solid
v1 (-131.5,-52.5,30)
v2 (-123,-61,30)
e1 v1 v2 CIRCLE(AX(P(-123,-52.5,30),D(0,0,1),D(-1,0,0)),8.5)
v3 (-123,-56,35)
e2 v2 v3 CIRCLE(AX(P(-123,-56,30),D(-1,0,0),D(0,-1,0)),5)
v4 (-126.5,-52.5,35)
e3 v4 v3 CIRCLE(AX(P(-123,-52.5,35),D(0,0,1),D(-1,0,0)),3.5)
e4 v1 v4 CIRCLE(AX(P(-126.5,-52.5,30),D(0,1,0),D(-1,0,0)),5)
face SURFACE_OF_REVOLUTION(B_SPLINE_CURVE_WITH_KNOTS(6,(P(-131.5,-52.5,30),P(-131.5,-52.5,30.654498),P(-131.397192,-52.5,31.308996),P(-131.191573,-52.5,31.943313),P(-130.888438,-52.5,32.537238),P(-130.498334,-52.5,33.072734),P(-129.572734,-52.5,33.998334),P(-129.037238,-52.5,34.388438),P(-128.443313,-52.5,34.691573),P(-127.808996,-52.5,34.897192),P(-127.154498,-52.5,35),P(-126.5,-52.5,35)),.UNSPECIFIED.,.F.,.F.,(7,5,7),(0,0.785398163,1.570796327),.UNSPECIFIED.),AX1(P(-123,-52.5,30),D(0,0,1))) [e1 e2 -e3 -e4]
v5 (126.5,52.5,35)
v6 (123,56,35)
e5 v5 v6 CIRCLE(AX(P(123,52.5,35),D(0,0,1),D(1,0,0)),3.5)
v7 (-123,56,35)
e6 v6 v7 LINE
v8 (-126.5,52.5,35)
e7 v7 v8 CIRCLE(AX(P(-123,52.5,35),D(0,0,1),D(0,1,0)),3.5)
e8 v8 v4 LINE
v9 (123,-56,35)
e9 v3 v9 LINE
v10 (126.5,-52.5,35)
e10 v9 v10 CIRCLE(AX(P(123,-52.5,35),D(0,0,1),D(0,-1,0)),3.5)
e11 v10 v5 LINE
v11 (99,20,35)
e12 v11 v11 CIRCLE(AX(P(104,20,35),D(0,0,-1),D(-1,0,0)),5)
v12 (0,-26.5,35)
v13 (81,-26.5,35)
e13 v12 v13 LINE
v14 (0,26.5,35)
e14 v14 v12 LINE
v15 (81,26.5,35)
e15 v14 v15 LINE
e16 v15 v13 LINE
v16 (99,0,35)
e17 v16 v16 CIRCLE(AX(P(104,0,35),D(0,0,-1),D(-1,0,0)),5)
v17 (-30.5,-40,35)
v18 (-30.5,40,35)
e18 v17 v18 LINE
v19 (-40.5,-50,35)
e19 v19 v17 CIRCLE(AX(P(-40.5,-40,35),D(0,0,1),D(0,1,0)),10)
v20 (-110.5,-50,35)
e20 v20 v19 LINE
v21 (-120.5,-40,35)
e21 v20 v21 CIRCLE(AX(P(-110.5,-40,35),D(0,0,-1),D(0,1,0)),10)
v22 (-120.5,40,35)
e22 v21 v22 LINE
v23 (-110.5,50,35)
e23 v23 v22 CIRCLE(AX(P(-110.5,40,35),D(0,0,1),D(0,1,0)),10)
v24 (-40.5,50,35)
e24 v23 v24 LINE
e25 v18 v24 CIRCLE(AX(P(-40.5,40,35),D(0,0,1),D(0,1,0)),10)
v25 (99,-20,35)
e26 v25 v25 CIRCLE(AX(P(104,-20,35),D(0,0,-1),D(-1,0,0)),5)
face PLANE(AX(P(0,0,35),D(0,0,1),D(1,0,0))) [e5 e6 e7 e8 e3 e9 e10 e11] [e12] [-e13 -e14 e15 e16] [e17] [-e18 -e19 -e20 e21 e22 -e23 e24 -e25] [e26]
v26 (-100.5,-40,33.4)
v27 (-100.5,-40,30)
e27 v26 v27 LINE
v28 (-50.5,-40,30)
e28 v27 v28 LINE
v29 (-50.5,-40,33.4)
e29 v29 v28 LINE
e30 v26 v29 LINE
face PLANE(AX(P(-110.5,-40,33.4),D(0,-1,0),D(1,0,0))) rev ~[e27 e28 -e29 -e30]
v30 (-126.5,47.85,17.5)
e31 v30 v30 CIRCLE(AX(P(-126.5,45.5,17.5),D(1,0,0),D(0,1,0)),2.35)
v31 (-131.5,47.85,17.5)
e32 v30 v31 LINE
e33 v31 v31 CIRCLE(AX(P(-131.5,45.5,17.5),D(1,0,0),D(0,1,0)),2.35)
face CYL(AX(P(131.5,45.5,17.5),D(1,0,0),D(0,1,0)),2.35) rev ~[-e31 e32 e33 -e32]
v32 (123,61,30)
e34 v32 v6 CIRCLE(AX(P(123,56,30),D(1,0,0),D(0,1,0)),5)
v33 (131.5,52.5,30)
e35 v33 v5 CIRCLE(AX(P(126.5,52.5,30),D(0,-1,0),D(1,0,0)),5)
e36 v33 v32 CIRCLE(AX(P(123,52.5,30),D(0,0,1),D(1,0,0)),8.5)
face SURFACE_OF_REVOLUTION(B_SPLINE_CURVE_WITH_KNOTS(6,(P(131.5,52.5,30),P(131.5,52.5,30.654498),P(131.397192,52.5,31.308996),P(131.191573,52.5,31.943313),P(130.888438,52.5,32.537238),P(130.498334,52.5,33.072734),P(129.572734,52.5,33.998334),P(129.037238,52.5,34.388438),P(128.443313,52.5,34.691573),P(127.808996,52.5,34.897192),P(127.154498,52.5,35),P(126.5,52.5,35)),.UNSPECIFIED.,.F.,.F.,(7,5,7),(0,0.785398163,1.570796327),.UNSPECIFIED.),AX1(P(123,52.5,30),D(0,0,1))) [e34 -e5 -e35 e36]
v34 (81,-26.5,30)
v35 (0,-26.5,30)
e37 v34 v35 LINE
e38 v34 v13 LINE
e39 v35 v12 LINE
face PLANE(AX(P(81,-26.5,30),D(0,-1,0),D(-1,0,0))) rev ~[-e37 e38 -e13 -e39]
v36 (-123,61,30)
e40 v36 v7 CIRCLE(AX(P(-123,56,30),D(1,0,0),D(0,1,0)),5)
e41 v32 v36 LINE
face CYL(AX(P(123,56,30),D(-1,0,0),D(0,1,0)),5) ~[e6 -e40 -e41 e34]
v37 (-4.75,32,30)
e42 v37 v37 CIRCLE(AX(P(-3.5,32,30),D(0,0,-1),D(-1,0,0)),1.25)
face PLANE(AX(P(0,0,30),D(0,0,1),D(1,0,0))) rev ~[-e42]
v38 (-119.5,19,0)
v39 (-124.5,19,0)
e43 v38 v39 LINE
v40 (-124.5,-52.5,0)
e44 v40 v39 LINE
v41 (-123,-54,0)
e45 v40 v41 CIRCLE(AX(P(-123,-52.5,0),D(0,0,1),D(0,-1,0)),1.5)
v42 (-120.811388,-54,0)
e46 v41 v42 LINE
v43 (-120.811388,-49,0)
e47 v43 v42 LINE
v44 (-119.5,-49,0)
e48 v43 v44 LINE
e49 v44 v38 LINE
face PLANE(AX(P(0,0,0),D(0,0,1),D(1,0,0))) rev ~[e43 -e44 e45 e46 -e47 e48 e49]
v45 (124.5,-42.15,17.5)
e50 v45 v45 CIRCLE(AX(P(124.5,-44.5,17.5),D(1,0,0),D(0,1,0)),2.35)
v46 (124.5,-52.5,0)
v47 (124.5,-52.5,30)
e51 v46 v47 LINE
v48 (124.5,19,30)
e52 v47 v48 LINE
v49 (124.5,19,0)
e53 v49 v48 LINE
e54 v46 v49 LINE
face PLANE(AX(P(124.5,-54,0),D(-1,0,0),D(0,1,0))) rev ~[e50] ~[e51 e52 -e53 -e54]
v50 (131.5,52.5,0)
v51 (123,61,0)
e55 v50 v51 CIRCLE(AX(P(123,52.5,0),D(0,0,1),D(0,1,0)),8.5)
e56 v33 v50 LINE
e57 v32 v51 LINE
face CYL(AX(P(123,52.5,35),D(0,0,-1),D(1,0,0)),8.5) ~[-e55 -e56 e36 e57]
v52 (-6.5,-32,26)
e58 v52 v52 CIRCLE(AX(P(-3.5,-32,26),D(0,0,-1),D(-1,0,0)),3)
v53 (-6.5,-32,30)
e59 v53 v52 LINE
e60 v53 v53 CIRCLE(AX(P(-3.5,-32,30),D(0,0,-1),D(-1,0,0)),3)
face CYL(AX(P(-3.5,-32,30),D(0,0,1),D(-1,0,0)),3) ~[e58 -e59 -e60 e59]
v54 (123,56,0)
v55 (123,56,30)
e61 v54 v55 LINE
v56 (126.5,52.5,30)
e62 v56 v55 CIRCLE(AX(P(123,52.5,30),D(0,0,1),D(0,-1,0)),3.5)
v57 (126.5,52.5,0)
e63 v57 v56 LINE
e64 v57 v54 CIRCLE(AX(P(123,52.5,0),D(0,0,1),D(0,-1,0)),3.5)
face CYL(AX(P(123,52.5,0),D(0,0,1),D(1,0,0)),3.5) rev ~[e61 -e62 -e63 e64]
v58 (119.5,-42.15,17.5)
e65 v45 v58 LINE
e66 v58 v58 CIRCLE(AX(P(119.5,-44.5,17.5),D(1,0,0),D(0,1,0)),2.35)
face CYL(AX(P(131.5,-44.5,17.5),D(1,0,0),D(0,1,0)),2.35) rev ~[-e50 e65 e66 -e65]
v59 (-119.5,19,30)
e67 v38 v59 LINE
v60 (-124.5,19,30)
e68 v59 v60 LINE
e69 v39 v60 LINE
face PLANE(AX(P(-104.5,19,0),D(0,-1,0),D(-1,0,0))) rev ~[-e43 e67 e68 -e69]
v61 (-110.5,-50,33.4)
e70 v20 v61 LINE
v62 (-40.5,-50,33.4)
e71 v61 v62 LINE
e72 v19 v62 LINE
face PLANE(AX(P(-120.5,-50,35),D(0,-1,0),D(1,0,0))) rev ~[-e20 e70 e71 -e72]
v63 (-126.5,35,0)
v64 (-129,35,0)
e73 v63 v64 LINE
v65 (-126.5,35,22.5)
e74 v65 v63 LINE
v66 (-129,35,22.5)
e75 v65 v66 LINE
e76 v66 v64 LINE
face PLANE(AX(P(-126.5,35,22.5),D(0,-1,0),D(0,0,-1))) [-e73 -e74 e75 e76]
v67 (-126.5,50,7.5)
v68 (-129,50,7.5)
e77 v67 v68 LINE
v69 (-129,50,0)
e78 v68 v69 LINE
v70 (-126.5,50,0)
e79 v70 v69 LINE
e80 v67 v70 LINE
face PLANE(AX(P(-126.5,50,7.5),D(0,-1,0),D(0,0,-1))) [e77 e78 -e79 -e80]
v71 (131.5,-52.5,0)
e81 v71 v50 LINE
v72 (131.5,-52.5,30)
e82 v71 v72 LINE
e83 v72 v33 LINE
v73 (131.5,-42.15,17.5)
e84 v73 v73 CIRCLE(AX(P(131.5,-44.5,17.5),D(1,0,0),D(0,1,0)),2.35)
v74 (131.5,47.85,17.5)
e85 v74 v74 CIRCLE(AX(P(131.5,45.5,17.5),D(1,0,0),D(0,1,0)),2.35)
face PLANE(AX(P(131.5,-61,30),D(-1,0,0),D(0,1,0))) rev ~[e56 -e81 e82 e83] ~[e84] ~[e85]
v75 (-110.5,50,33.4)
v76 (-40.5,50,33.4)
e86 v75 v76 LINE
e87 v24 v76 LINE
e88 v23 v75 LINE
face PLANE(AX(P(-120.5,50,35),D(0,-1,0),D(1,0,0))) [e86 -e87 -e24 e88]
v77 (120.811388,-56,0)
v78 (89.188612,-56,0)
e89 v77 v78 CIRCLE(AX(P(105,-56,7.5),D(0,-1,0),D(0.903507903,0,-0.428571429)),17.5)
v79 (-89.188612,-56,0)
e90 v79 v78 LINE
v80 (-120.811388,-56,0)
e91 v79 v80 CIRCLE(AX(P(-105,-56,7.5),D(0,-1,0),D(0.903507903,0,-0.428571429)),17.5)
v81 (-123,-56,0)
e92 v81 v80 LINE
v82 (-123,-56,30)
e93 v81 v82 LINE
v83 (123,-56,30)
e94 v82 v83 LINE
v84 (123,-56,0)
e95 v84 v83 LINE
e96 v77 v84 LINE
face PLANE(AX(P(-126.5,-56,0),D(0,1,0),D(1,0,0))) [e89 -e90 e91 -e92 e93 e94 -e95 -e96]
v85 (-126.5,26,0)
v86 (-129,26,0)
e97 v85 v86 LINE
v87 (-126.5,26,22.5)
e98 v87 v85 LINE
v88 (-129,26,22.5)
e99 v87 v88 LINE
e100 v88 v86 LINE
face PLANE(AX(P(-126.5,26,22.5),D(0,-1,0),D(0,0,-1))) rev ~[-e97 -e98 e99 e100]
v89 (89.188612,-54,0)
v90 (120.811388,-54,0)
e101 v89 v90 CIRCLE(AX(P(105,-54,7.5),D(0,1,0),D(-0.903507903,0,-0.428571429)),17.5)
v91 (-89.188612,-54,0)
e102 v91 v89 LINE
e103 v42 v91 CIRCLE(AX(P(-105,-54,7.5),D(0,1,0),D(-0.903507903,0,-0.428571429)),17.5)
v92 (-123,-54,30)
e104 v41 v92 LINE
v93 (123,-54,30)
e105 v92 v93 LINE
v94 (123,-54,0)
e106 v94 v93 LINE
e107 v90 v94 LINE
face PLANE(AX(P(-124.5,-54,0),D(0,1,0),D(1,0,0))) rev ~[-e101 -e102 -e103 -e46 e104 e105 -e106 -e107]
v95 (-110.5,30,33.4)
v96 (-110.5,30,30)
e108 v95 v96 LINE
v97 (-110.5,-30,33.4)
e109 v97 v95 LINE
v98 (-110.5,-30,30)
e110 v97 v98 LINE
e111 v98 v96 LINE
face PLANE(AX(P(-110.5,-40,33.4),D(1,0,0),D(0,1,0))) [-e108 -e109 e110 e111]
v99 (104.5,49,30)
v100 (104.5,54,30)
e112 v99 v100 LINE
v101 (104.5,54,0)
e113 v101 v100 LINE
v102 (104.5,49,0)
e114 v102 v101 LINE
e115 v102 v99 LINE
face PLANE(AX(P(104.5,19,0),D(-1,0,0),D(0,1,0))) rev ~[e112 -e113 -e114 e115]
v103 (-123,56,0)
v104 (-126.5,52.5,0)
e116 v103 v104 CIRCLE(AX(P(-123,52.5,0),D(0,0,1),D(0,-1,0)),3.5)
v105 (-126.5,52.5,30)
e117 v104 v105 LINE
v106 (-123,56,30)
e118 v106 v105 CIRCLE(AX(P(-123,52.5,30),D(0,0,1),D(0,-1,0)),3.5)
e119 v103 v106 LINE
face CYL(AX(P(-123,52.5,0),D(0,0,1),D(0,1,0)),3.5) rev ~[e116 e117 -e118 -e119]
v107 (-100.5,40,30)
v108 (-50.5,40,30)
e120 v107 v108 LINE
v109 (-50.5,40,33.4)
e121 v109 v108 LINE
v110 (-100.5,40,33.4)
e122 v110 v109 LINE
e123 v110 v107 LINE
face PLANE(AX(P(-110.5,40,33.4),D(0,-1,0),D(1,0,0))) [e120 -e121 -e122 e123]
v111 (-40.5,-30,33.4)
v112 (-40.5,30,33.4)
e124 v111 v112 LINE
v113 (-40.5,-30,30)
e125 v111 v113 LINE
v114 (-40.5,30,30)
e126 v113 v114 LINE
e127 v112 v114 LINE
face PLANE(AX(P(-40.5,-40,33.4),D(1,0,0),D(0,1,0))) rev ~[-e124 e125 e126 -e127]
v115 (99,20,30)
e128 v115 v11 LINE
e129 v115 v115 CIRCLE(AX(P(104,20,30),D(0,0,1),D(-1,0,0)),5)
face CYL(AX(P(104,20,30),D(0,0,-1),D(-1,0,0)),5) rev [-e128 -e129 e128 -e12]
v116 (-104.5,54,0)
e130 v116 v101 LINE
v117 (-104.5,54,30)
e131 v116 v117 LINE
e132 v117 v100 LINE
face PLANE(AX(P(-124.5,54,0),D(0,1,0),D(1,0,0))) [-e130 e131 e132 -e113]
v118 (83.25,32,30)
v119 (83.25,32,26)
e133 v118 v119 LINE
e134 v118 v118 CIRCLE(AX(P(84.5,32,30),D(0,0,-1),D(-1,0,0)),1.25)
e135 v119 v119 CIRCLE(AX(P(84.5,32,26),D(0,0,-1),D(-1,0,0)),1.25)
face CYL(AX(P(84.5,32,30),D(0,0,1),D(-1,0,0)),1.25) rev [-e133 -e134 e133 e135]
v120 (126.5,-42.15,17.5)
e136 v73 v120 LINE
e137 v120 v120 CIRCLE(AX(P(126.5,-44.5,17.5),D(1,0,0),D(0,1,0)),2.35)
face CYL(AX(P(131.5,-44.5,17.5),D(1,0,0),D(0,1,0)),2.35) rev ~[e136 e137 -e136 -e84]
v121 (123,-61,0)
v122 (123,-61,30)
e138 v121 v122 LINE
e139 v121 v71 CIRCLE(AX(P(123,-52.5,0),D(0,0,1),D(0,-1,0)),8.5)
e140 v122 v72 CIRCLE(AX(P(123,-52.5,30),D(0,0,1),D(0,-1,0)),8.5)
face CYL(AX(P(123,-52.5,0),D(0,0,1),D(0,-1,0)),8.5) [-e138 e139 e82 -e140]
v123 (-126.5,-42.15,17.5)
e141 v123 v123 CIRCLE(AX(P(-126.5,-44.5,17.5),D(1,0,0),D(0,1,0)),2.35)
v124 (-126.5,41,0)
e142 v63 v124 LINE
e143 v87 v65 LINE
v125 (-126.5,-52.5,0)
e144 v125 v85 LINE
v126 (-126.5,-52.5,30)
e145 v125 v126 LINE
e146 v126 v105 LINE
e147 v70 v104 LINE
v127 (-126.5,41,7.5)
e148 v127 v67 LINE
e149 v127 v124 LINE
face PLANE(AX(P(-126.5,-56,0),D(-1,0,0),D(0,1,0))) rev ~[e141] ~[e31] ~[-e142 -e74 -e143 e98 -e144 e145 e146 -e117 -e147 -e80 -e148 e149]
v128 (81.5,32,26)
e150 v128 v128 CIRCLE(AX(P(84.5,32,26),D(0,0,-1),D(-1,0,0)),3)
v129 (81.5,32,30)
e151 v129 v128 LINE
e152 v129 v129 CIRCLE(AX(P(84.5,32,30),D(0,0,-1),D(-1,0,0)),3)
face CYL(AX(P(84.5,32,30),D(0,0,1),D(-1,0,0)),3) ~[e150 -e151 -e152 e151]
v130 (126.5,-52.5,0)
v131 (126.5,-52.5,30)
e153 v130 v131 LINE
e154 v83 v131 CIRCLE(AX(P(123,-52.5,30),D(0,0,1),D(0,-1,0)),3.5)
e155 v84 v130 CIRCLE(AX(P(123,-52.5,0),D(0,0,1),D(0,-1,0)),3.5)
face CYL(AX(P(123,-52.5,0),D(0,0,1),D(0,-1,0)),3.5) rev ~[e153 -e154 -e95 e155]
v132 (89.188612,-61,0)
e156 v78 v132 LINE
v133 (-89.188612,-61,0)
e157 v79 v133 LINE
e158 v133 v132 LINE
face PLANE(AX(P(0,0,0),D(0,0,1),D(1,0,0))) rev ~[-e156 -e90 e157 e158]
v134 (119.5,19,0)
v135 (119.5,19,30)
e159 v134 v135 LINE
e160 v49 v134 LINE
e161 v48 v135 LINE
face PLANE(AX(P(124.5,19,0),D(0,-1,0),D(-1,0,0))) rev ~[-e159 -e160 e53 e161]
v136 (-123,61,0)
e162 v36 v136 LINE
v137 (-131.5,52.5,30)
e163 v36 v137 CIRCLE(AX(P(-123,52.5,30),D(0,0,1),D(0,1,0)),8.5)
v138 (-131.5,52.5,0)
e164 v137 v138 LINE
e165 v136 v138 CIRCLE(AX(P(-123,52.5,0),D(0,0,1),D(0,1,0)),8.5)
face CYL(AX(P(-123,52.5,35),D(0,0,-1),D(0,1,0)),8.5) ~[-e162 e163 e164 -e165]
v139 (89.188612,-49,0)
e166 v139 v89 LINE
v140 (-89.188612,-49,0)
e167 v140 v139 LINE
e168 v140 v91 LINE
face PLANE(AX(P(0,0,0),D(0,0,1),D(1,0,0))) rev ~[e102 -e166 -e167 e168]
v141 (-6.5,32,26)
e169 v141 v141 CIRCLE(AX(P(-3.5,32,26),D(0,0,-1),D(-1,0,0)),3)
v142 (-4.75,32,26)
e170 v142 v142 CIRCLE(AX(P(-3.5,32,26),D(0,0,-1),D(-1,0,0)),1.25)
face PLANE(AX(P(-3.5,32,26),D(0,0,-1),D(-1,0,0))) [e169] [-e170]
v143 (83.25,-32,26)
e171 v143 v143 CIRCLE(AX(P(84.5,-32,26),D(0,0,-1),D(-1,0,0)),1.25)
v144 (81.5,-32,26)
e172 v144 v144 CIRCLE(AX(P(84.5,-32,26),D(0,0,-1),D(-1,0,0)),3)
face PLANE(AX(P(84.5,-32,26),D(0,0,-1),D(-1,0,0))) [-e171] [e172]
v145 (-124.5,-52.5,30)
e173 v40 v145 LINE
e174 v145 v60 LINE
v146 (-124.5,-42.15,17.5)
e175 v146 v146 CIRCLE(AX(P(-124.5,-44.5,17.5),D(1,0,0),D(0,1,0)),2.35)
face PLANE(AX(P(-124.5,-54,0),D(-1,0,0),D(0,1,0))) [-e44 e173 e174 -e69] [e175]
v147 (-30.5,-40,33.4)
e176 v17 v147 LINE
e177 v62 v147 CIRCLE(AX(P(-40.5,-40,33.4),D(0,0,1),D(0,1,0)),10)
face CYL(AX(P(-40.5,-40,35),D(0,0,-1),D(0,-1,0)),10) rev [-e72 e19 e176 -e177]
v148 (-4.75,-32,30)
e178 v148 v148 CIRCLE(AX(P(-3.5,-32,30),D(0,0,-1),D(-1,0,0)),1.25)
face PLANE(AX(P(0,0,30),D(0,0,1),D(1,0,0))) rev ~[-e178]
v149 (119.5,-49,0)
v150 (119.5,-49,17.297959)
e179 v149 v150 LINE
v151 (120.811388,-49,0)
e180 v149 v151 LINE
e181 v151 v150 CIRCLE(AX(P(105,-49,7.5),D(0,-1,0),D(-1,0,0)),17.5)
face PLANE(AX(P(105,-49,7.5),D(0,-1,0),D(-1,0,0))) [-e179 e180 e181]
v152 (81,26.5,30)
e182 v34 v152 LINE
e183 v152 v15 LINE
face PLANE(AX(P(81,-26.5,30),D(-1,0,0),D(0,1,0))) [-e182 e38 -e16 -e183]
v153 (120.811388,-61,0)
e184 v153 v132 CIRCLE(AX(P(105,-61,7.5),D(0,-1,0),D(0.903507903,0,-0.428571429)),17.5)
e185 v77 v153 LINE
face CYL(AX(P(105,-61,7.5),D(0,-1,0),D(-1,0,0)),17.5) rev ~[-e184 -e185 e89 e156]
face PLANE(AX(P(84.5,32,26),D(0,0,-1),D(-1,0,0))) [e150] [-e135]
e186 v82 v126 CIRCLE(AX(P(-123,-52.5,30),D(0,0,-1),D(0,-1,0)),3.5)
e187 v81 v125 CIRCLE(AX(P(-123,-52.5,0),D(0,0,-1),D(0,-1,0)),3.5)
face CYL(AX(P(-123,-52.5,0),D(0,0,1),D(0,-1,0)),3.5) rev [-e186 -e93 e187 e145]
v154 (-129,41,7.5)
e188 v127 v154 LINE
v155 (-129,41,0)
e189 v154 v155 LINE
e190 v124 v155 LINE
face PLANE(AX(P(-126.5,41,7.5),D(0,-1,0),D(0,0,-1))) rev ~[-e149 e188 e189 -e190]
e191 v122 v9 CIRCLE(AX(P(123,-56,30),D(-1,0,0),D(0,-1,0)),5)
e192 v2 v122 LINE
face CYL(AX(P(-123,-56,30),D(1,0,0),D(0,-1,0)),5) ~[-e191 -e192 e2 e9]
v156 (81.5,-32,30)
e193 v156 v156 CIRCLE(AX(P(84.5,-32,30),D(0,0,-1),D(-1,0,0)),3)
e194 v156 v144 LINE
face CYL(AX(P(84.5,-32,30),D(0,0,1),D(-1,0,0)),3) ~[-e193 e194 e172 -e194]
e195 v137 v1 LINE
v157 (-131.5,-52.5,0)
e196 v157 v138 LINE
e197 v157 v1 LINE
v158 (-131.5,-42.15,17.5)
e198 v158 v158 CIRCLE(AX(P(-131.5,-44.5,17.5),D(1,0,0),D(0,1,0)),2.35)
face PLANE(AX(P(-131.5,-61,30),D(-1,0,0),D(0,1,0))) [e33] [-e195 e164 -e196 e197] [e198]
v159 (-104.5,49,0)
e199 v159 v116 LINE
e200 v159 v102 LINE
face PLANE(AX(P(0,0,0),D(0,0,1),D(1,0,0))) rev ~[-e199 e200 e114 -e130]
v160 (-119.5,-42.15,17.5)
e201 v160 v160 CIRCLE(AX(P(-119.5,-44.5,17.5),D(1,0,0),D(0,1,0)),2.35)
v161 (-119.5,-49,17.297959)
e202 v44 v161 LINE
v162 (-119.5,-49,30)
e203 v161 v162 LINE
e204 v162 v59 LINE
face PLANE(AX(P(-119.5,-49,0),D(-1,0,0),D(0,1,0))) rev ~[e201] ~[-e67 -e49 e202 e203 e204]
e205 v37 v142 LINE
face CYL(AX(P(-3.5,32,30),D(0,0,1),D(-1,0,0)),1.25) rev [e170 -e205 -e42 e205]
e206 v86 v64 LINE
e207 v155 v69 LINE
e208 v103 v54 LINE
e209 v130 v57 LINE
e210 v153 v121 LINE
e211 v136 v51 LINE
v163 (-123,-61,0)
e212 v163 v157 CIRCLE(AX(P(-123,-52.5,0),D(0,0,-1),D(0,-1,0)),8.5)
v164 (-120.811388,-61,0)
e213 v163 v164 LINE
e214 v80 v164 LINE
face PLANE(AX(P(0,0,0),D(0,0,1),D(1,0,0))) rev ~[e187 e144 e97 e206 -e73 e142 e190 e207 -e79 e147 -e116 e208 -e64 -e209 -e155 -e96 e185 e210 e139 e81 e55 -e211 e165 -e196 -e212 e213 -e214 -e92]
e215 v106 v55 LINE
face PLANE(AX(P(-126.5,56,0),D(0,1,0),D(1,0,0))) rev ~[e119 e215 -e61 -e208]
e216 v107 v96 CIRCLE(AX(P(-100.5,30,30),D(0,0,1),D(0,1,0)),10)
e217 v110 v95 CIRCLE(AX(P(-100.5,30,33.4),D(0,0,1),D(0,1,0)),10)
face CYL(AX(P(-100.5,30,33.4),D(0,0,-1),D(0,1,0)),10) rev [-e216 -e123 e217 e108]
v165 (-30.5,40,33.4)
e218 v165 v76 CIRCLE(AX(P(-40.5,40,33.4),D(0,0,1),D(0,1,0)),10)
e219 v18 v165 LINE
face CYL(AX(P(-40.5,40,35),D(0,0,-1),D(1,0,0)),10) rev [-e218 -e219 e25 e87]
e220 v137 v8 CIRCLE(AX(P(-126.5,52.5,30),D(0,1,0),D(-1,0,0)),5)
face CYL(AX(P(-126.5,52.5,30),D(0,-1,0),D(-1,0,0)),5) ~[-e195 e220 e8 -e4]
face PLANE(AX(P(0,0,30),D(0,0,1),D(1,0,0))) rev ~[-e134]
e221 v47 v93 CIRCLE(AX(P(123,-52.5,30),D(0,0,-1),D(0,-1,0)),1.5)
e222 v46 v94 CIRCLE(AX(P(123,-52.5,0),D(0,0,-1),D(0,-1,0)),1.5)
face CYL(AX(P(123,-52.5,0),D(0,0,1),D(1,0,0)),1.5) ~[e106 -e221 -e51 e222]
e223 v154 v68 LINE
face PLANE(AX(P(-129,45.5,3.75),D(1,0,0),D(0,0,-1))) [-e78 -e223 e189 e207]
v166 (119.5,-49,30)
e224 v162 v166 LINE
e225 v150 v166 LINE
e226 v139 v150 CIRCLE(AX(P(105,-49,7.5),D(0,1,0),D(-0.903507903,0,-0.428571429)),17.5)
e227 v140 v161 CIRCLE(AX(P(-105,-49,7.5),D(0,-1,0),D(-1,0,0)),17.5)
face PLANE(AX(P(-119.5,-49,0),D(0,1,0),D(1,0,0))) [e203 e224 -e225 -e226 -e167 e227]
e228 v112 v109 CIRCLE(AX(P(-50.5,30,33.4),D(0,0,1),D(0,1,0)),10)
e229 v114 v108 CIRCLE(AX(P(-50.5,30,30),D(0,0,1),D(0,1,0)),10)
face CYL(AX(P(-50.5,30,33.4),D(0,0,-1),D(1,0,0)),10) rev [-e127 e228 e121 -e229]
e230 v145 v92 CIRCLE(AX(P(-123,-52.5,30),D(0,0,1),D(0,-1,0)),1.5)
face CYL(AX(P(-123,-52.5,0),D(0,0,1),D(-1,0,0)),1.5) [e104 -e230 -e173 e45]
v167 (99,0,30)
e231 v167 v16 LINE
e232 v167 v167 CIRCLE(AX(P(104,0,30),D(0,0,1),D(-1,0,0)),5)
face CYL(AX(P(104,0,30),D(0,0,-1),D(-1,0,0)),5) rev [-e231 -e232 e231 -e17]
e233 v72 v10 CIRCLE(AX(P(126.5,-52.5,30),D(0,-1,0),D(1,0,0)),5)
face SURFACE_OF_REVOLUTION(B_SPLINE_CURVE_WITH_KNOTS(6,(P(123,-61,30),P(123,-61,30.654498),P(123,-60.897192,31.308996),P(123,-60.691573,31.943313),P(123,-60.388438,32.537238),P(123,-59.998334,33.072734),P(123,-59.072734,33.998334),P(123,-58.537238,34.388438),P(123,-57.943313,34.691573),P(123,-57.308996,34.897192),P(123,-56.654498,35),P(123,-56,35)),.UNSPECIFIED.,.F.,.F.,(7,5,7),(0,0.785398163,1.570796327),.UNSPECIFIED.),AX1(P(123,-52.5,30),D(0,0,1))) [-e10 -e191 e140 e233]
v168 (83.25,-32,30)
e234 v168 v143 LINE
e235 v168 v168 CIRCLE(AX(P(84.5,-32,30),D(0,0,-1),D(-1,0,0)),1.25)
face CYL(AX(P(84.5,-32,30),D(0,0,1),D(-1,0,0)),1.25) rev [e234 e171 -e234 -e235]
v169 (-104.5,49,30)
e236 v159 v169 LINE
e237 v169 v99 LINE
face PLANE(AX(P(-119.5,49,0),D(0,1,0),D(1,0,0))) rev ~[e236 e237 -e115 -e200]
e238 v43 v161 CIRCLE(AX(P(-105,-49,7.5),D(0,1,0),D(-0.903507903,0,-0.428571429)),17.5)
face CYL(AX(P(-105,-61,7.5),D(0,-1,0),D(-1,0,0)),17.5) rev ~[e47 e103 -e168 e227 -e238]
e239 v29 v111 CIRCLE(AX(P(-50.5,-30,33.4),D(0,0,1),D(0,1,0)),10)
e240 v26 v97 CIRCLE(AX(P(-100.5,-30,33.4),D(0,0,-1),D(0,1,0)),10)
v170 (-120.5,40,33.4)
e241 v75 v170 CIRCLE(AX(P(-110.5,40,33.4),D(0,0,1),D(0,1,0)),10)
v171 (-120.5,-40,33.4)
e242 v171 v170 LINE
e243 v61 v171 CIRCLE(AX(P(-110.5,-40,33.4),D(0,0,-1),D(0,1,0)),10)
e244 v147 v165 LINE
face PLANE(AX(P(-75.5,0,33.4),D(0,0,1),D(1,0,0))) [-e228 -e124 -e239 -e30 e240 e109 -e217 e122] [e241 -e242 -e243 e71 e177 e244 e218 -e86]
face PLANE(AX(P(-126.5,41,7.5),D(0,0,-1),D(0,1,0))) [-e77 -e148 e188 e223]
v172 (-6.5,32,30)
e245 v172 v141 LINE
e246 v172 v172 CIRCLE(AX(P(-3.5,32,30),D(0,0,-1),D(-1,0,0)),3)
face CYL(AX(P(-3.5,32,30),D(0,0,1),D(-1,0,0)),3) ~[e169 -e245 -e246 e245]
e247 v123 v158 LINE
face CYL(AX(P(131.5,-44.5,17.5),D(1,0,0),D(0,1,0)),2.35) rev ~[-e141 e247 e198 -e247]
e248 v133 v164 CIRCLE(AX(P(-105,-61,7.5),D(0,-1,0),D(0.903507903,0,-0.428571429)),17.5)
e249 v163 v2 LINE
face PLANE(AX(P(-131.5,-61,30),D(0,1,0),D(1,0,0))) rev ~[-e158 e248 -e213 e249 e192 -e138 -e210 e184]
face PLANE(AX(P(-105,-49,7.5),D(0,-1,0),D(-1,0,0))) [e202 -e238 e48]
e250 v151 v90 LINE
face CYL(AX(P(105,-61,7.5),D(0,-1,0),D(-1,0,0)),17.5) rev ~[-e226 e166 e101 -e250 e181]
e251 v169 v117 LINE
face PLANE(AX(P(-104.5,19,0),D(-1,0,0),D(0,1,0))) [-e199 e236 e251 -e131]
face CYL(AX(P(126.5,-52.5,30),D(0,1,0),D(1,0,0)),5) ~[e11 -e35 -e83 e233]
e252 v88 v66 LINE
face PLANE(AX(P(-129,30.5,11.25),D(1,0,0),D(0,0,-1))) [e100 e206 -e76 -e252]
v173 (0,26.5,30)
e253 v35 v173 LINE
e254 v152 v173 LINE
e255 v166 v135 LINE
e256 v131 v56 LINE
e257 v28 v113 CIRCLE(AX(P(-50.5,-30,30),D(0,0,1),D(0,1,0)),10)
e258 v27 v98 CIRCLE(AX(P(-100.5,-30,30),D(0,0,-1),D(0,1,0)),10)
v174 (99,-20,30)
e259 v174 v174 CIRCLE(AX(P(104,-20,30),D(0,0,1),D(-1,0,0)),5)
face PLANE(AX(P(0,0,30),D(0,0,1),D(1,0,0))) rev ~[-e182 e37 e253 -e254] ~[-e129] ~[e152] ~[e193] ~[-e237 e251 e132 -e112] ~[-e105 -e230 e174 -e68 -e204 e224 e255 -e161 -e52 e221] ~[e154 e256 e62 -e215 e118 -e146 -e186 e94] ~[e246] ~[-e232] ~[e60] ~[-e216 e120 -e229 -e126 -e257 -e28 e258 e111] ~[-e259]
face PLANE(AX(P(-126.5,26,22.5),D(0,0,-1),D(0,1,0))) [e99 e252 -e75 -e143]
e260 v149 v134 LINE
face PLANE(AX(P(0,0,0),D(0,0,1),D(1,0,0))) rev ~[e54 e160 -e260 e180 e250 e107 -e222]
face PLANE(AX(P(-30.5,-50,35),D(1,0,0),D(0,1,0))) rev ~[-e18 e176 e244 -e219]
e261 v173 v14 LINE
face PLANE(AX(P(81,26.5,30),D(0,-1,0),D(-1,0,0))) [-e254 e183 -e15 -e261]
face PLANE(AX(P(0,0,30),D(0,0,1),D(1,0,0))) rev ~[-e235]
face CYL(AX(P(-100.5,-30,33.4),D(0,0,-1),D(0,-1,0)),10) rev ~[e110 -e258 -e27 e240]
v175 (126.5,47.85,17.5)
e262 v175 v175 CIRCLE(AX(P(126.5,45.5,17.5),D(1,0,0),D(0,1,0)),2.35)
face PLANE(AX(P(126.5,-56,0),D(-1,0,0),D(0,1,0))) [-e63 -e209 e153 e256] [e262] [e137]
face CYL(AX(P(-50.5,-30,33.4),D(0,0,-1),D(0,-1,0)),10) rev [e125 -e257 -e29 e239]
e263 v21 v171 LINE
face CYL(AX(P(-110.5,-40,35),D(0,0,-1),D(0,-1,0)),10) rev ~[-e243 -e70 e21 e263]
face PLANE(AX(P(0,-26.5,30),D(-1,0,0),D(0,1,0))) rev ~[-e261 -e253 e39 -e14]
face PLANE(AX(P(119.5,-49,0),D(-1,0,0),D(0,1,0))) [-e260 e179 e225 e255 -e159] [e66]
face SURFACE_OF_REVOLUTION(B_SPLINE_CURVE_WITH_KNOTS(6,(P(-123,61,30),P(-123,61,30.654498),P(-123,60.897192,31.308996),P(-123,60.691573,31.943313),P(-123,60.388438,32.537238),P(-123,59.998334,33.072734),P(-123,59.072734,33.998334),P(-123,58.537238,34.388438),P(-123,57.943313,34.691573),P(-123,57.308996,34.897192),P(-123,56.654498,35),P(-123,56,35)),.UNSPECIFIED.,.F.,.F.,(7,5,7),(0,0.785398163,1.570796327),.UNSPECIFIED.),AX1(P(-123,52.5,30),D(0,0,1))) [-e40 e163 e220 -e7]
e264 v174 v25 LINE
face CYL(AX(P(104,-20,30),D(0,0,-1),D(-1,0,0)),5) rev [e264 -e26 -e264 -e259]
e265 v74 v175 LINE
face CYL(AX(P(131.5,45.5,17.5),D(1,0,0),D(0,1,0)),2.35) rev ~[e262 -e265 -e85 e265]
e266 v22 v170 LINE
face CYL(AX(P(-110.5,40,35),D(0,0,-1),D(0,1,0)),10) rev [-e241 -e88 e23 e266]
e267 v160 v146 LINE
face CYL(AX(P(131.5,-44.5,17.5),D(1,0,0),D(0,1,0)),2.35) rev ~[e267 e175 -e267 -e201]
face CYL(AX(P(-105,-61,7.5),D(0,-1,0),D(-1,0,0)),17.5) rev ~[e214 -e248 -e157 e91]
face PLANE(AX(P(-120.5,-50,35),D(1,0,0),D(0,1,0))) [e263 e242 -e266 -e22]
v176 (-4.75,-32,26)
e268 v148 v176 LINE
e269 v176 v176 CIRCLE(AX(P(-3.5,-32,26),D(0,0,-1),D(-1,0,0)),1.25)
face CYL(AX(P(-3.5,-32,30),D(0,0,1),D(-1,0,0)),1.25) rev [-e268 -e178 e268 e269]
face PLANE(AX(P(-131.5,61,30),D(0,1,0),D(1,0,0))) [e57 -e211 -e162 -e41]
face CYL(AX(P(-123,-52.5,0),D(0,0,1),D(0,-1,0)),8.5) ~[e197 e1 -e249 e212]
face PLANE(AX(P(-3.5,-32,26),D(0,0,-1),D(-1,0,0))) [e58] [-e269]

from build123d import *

# Parameters (mm, degrees)
SKETCH1_W             = 263
SKETCH1_H             = 122
SKETCH1_W_2           = 253
SKETCH1_H_2           = 112
BOSS_EXTRUDE1_DEPTH   = 30
SKETCH1_W_3           = 249
SKETCH1_H_3           = 108
SKETCH1_W_4           = 239
SKETCH1_H_4           = 98
BOSS_EXTRUDE1_2_DEPTH = 30
SKETCH2_W             = 263
SKETCH2_H             = 122
BOSS_EXTRUDE2_DEPTH   = 5
FILLET1_R             = 1.5
SKETCH3_R             = 17.5
CUT_EXTRUDE1_DEPTH    = 12
FILLET2_R             = 3.5
FILLET3_R             = 8.5
FILLET4_R             = 5
SKETCH4_R             = 2.35
CUT_EXTRUDE2_DEPTH    = 279
SKETCH5_W             = 20
SKETCH5_H             = 35
CUT_EXTRUDE3_DEPTH    = 30
SKETCH6_W             = 7.5
SKETCH6_H             = 9
SKETCH6_W_2           = 22.5
CUT_EXTRUDE4_DEPTH    = 2.5
SKETCH7_R             = 5
CUT_EXTRUDE8_DEPTH    = 73.5
SKETCH9_R             = 3
SKETCH9_R_2           = 1.25
BOSS_EXTRUDE4_DEPTH   = 4
SKETCH10_W            = 81
SKETCH10_H            = 53
CUT_EXTRUDE9_DEPTH    = 13.6
SKETCH11_W            = 90
SKETCH11_H            = 100
CUT_EXTRUDE10_DEPTH   = 1.6
SKETCH12_W            = 70
SKETCH12_H            = 80
CUT_EXTRUDE11_DEPTH   = 11.6
FILLET5_R             = 10


with BuildPart() as part:
    # Sketch1 → Boss-Extrude1 (new body)
    with BuildSketch(Plane.XY):
        Rectangle(SKETCH1_W, SKETCH1_H)
        Rectangle(SKETCH1_W_2, SKETCH1_H_2, mode=Mode.SUBTRACT)
    extrude(amount=BOSS_EXTRUDE1_DEPTH)



with BuildPart() as body_2:
    # Sketch1 → Boss-Extrude1 2 (new body)
    with BuildSketch(Plane.XY):
        Rectangle(SKETCH1_W_3, SKETCH1_H_3)
        Rectangle(SKETCH1_W_4, SKETCH1_H_4, mode=Mode.SUBTRACT)
    extrude(amount=BOSS_EXTRUDE1_2_DEPTH)


with BuildPart() as part_1:
    add(part.part)

    add(body_2.part)  # Boss-Extrude2 merges body 2
    # Sketch2 → Boss-Extrude2 (add)
    with BuildSketch(Plane.XY.offset(30)):
        Rectangle(SKETCH2_W, SKETCH2_H)
    extrude(amount=BOSS_EXTRUDE2_DEPTH)

    # Fillet1
    fillet1_edges = [part_1.edges().sort_by_distance(p)[0] for p in [
        (-124.5, -54, 15),
        (124.5, -54, 15),
        (124.5, 54, 15),
        (-124.5, 54, 15),
    ]]
    fillet(fillet1_edges, radius=FILLET1_R)

    # Sketch3 → Cut-Extrude1 (cut)
    with BuildSketch(Plane(origin=(0, -61, 0), x_dir=(-1, 0, 0), z_dir=(0, -1, 0))):
        with Locations((105, -7.5)):
            Circle(SKETCH3_R)
        with Locations((-105, -7.5)):
            Circle(SKETCH3_R)
    extrude(amount=-CUT_EXTRUDE1_DEPTH, mode=Mode.SUBTRACT)

    # Fillet2
    fillet2_edges = [part_1.edges().sort_by_distance(p)[0] for p in [
        (126.5, 56, 15),
        (-126.5, 56, 15),
        (-126.5, -56, 15),
        (126.5, -56, 15),
    ]]
    fillet(fillet2_edges, radius=FILLET2_R)

    # Fillet3
    fillet3_edges = [part_1.edges().sort_by_distance(p)[0] for p in [
        (-131.5, -61, 17.5),
        (-131.5, 61, 17.5),
        (131.5, 61, 17.5),
        (131.5, -61, 17.5),
    ]]
    fillet(fillet3_edges, radius=FILLET3_R)

    # Fillet4
    fillet4_edges = [part_1.edges().sort_by_distance(p)[0] for p in [
        (0, -61, 35),
        (-131.5, 0, 35),
        (131.5, 0, 35),
        (0, 61, 35),
        (-129.01040764, 58.51040764, 35),
        (129.01040764, 58.51040764, 35),
        (129.01040764, -58.51040764, 35),
        (-129.01040764, -58.51040764, 35),
    ]]
    fillet(fillet4_edges, radius=FILLET4_R)

    # Sketch4 → Cut-Extrude2 (cut)
    with BuildSketch(Plane(origin=(131.5, 0, 0), x_dir=(0, 0, -1), z_dir=(1, 0, 0))):
        with Locations(Location((-17.5, -44.5, 0), (0, 0, 90))):
            Circle(SKETCH4_R)
        with Locations(Location((-17.5, 45.5, 0), (0, 0, 90))):
            Circle(SKETCH4_R)
    extrude(amount=-CUT_EXTRUDE2_DEPTH, mode=Mode.SUBTRACT)

    # Sketch5 → Cut-Extrude3 (cut)
    with BuildSketch(Plane(origin=(0, 0, 0), x_dir=(-1, 0, 0), z_dir=(0, 0, -1))):
        with Locations((114.5, 36.5)):
            Rectangle(SKETCH5_W, SKETCH5_H)
        with Locations((-114.5, 36.5)):
            Rectangle(SKETCH5_W, SKETCH5_H)
    extrude(amount=-CUT_EXTRUDE3_DEPTH, mode=Mode.SUBTRACT)

    # Sketch6 → Cut-Extrude4 (cut)
    with BuildSketch(Plane(origin=(-126.5, 0, 0), x_dir=(0, 0, -1), z_dir=(1, 0, 0))):
        with Locations((-3.75, 45.5)):
            Rectangle(SKETCH6_W, SKETCH6_H)
        with Locations((-11.25, 30.5)):
            Rectangle(SKETCH6_W_2, SKETCH6_H)
    extrude(amount=-CUT_EXTRUDE4_DEPTH, mode=Mode.SUBTRACT)

    # Sketch7 → Cut-Extrude8 (cut)
    with BuildSketch(Plane.XY.offset(30)):
        with Locations(Location((104, 20, 0), (0, 0, 180))):
            Circle(SKETCH7_R)
        with Locations(Location((104, 0, 0), (0, 0, 180))):
            Circle(SKETCH7_R)
        with Locations(Location((104, -20, 0), (0, 0, 180))):
            Circle(SKETCH7_R)
    extrude(amount=CUT_EXTRUDE8_DEPTH, mode=Mode.SUBTRACT)

    # Sketch9 → Boss-Extrude4 (add)
    # profile 1 of 4: a face of its own
    with BuildSketch(Plane(origin=(0, 0, 30), x_dir=(-1, 0, 0), z_dir=(0, 0, -1))):
        with Locations((-84.5, 32)):
            Circle(SKETCH9_R)
        with Locations((-84.5, 32)):
            Circle(SKETCH9_R_2, mode=Mode.SUBTRACT)
    # profile 2 of 4: a face of its own
    with BuildSketch(Plane(origin=(0, 0, 30), x_dir=(-1, 0, 0), z_dir=(0, 0, -1))):
        with Locations((-84.5, -32)):
            Circle(SKETCH9_R)
        with Locations((-84.5, -32)):
            Circle(SKETCH9_R_2, mode=Mode.SUBTRACT)
    # profile 3 of 4: a face of its own
    with BuildSketch(Plane(origin=(0, 0, 30), x_dir=(-1, 0, 0), z_dir=(0, 0, -1))):
        with Locations((3.5, -32)):
            Circle(SKETCH9_R)
        with Locations((3.5, -32)):
            Circle(SKETCH9_R_2, mode=Mode.SUBTRACT)
    # profile 4 of 4: a face of its own
    with BuildSketch(Plane(origin=(0, 0, 30), x_dir=(-1, 0, 0), z_dir=(0, 0, -1))):
        with Locations((3.5, 32)):
            Circle(SKETCH9_R)
        with Locations((3.5, 32)):
            Circle(SKETCH9_R_2, mode=Mode.SUBTRACT)
    extrude(amount=BOSS_EXTRUDE4_DEPTH)

    # Sketch10 → Cut-Extrude9 (cut)
    with BuildSketch(Plane(origin=(0, 0, 30), x_dir=(-1, 0, 0), z_dir=(0, 0, -1))):
        with Locations((-40.5, 0)):
            Rectangle(SKETCH10_W, SKETCH10_H)
    extrude(amount=-CUT_EXTRUDE9_DEPTH, mode=Mode.SUBTRACT)

    # Sketch11 → Cut-Extrude10 (cut)
    with BuildSketch(Plane.XY.offset(35)):
        with Locations((-75.5, 0)):
            Rectangle(SKETCH11_W, SKETCH11_H)
    extrude(amount=-CUT_EXTRUDE10_DEPTH, mode=Mode.SUBTRACT)

    # Sketch12 → Cut-Extrude11 (cut)
    with BuildSketch(Plane.XY.offset(33.4)):
        with Locations((-75.5, 0)):
            Rectangle(SKETCH12_W, SKETCH12_H)
    extrude(amount=-CUT_EXTRUDE11_DEPTH, mode=Mode.SUBTRACT)

    # Fillet5
    fillet5_edges = [part_1.edges().sort_by_distance(p)[0] for p in [
        (-30.5, 50, 34.2),
        (-30.5, -50, 34.2),
        (-120.5, -50, 34.2),
        (-120.5, 50, 34.2),
        (-110.5, -40, 31.7),
        (-110.5, 40, 31.7),
        (-40.5, 40, 31.7),
        (-40.5, -40, 31.7),
    ]]
    fillet(fillet5_edges, radius=FILLET5_R)


solid = part_1.part
